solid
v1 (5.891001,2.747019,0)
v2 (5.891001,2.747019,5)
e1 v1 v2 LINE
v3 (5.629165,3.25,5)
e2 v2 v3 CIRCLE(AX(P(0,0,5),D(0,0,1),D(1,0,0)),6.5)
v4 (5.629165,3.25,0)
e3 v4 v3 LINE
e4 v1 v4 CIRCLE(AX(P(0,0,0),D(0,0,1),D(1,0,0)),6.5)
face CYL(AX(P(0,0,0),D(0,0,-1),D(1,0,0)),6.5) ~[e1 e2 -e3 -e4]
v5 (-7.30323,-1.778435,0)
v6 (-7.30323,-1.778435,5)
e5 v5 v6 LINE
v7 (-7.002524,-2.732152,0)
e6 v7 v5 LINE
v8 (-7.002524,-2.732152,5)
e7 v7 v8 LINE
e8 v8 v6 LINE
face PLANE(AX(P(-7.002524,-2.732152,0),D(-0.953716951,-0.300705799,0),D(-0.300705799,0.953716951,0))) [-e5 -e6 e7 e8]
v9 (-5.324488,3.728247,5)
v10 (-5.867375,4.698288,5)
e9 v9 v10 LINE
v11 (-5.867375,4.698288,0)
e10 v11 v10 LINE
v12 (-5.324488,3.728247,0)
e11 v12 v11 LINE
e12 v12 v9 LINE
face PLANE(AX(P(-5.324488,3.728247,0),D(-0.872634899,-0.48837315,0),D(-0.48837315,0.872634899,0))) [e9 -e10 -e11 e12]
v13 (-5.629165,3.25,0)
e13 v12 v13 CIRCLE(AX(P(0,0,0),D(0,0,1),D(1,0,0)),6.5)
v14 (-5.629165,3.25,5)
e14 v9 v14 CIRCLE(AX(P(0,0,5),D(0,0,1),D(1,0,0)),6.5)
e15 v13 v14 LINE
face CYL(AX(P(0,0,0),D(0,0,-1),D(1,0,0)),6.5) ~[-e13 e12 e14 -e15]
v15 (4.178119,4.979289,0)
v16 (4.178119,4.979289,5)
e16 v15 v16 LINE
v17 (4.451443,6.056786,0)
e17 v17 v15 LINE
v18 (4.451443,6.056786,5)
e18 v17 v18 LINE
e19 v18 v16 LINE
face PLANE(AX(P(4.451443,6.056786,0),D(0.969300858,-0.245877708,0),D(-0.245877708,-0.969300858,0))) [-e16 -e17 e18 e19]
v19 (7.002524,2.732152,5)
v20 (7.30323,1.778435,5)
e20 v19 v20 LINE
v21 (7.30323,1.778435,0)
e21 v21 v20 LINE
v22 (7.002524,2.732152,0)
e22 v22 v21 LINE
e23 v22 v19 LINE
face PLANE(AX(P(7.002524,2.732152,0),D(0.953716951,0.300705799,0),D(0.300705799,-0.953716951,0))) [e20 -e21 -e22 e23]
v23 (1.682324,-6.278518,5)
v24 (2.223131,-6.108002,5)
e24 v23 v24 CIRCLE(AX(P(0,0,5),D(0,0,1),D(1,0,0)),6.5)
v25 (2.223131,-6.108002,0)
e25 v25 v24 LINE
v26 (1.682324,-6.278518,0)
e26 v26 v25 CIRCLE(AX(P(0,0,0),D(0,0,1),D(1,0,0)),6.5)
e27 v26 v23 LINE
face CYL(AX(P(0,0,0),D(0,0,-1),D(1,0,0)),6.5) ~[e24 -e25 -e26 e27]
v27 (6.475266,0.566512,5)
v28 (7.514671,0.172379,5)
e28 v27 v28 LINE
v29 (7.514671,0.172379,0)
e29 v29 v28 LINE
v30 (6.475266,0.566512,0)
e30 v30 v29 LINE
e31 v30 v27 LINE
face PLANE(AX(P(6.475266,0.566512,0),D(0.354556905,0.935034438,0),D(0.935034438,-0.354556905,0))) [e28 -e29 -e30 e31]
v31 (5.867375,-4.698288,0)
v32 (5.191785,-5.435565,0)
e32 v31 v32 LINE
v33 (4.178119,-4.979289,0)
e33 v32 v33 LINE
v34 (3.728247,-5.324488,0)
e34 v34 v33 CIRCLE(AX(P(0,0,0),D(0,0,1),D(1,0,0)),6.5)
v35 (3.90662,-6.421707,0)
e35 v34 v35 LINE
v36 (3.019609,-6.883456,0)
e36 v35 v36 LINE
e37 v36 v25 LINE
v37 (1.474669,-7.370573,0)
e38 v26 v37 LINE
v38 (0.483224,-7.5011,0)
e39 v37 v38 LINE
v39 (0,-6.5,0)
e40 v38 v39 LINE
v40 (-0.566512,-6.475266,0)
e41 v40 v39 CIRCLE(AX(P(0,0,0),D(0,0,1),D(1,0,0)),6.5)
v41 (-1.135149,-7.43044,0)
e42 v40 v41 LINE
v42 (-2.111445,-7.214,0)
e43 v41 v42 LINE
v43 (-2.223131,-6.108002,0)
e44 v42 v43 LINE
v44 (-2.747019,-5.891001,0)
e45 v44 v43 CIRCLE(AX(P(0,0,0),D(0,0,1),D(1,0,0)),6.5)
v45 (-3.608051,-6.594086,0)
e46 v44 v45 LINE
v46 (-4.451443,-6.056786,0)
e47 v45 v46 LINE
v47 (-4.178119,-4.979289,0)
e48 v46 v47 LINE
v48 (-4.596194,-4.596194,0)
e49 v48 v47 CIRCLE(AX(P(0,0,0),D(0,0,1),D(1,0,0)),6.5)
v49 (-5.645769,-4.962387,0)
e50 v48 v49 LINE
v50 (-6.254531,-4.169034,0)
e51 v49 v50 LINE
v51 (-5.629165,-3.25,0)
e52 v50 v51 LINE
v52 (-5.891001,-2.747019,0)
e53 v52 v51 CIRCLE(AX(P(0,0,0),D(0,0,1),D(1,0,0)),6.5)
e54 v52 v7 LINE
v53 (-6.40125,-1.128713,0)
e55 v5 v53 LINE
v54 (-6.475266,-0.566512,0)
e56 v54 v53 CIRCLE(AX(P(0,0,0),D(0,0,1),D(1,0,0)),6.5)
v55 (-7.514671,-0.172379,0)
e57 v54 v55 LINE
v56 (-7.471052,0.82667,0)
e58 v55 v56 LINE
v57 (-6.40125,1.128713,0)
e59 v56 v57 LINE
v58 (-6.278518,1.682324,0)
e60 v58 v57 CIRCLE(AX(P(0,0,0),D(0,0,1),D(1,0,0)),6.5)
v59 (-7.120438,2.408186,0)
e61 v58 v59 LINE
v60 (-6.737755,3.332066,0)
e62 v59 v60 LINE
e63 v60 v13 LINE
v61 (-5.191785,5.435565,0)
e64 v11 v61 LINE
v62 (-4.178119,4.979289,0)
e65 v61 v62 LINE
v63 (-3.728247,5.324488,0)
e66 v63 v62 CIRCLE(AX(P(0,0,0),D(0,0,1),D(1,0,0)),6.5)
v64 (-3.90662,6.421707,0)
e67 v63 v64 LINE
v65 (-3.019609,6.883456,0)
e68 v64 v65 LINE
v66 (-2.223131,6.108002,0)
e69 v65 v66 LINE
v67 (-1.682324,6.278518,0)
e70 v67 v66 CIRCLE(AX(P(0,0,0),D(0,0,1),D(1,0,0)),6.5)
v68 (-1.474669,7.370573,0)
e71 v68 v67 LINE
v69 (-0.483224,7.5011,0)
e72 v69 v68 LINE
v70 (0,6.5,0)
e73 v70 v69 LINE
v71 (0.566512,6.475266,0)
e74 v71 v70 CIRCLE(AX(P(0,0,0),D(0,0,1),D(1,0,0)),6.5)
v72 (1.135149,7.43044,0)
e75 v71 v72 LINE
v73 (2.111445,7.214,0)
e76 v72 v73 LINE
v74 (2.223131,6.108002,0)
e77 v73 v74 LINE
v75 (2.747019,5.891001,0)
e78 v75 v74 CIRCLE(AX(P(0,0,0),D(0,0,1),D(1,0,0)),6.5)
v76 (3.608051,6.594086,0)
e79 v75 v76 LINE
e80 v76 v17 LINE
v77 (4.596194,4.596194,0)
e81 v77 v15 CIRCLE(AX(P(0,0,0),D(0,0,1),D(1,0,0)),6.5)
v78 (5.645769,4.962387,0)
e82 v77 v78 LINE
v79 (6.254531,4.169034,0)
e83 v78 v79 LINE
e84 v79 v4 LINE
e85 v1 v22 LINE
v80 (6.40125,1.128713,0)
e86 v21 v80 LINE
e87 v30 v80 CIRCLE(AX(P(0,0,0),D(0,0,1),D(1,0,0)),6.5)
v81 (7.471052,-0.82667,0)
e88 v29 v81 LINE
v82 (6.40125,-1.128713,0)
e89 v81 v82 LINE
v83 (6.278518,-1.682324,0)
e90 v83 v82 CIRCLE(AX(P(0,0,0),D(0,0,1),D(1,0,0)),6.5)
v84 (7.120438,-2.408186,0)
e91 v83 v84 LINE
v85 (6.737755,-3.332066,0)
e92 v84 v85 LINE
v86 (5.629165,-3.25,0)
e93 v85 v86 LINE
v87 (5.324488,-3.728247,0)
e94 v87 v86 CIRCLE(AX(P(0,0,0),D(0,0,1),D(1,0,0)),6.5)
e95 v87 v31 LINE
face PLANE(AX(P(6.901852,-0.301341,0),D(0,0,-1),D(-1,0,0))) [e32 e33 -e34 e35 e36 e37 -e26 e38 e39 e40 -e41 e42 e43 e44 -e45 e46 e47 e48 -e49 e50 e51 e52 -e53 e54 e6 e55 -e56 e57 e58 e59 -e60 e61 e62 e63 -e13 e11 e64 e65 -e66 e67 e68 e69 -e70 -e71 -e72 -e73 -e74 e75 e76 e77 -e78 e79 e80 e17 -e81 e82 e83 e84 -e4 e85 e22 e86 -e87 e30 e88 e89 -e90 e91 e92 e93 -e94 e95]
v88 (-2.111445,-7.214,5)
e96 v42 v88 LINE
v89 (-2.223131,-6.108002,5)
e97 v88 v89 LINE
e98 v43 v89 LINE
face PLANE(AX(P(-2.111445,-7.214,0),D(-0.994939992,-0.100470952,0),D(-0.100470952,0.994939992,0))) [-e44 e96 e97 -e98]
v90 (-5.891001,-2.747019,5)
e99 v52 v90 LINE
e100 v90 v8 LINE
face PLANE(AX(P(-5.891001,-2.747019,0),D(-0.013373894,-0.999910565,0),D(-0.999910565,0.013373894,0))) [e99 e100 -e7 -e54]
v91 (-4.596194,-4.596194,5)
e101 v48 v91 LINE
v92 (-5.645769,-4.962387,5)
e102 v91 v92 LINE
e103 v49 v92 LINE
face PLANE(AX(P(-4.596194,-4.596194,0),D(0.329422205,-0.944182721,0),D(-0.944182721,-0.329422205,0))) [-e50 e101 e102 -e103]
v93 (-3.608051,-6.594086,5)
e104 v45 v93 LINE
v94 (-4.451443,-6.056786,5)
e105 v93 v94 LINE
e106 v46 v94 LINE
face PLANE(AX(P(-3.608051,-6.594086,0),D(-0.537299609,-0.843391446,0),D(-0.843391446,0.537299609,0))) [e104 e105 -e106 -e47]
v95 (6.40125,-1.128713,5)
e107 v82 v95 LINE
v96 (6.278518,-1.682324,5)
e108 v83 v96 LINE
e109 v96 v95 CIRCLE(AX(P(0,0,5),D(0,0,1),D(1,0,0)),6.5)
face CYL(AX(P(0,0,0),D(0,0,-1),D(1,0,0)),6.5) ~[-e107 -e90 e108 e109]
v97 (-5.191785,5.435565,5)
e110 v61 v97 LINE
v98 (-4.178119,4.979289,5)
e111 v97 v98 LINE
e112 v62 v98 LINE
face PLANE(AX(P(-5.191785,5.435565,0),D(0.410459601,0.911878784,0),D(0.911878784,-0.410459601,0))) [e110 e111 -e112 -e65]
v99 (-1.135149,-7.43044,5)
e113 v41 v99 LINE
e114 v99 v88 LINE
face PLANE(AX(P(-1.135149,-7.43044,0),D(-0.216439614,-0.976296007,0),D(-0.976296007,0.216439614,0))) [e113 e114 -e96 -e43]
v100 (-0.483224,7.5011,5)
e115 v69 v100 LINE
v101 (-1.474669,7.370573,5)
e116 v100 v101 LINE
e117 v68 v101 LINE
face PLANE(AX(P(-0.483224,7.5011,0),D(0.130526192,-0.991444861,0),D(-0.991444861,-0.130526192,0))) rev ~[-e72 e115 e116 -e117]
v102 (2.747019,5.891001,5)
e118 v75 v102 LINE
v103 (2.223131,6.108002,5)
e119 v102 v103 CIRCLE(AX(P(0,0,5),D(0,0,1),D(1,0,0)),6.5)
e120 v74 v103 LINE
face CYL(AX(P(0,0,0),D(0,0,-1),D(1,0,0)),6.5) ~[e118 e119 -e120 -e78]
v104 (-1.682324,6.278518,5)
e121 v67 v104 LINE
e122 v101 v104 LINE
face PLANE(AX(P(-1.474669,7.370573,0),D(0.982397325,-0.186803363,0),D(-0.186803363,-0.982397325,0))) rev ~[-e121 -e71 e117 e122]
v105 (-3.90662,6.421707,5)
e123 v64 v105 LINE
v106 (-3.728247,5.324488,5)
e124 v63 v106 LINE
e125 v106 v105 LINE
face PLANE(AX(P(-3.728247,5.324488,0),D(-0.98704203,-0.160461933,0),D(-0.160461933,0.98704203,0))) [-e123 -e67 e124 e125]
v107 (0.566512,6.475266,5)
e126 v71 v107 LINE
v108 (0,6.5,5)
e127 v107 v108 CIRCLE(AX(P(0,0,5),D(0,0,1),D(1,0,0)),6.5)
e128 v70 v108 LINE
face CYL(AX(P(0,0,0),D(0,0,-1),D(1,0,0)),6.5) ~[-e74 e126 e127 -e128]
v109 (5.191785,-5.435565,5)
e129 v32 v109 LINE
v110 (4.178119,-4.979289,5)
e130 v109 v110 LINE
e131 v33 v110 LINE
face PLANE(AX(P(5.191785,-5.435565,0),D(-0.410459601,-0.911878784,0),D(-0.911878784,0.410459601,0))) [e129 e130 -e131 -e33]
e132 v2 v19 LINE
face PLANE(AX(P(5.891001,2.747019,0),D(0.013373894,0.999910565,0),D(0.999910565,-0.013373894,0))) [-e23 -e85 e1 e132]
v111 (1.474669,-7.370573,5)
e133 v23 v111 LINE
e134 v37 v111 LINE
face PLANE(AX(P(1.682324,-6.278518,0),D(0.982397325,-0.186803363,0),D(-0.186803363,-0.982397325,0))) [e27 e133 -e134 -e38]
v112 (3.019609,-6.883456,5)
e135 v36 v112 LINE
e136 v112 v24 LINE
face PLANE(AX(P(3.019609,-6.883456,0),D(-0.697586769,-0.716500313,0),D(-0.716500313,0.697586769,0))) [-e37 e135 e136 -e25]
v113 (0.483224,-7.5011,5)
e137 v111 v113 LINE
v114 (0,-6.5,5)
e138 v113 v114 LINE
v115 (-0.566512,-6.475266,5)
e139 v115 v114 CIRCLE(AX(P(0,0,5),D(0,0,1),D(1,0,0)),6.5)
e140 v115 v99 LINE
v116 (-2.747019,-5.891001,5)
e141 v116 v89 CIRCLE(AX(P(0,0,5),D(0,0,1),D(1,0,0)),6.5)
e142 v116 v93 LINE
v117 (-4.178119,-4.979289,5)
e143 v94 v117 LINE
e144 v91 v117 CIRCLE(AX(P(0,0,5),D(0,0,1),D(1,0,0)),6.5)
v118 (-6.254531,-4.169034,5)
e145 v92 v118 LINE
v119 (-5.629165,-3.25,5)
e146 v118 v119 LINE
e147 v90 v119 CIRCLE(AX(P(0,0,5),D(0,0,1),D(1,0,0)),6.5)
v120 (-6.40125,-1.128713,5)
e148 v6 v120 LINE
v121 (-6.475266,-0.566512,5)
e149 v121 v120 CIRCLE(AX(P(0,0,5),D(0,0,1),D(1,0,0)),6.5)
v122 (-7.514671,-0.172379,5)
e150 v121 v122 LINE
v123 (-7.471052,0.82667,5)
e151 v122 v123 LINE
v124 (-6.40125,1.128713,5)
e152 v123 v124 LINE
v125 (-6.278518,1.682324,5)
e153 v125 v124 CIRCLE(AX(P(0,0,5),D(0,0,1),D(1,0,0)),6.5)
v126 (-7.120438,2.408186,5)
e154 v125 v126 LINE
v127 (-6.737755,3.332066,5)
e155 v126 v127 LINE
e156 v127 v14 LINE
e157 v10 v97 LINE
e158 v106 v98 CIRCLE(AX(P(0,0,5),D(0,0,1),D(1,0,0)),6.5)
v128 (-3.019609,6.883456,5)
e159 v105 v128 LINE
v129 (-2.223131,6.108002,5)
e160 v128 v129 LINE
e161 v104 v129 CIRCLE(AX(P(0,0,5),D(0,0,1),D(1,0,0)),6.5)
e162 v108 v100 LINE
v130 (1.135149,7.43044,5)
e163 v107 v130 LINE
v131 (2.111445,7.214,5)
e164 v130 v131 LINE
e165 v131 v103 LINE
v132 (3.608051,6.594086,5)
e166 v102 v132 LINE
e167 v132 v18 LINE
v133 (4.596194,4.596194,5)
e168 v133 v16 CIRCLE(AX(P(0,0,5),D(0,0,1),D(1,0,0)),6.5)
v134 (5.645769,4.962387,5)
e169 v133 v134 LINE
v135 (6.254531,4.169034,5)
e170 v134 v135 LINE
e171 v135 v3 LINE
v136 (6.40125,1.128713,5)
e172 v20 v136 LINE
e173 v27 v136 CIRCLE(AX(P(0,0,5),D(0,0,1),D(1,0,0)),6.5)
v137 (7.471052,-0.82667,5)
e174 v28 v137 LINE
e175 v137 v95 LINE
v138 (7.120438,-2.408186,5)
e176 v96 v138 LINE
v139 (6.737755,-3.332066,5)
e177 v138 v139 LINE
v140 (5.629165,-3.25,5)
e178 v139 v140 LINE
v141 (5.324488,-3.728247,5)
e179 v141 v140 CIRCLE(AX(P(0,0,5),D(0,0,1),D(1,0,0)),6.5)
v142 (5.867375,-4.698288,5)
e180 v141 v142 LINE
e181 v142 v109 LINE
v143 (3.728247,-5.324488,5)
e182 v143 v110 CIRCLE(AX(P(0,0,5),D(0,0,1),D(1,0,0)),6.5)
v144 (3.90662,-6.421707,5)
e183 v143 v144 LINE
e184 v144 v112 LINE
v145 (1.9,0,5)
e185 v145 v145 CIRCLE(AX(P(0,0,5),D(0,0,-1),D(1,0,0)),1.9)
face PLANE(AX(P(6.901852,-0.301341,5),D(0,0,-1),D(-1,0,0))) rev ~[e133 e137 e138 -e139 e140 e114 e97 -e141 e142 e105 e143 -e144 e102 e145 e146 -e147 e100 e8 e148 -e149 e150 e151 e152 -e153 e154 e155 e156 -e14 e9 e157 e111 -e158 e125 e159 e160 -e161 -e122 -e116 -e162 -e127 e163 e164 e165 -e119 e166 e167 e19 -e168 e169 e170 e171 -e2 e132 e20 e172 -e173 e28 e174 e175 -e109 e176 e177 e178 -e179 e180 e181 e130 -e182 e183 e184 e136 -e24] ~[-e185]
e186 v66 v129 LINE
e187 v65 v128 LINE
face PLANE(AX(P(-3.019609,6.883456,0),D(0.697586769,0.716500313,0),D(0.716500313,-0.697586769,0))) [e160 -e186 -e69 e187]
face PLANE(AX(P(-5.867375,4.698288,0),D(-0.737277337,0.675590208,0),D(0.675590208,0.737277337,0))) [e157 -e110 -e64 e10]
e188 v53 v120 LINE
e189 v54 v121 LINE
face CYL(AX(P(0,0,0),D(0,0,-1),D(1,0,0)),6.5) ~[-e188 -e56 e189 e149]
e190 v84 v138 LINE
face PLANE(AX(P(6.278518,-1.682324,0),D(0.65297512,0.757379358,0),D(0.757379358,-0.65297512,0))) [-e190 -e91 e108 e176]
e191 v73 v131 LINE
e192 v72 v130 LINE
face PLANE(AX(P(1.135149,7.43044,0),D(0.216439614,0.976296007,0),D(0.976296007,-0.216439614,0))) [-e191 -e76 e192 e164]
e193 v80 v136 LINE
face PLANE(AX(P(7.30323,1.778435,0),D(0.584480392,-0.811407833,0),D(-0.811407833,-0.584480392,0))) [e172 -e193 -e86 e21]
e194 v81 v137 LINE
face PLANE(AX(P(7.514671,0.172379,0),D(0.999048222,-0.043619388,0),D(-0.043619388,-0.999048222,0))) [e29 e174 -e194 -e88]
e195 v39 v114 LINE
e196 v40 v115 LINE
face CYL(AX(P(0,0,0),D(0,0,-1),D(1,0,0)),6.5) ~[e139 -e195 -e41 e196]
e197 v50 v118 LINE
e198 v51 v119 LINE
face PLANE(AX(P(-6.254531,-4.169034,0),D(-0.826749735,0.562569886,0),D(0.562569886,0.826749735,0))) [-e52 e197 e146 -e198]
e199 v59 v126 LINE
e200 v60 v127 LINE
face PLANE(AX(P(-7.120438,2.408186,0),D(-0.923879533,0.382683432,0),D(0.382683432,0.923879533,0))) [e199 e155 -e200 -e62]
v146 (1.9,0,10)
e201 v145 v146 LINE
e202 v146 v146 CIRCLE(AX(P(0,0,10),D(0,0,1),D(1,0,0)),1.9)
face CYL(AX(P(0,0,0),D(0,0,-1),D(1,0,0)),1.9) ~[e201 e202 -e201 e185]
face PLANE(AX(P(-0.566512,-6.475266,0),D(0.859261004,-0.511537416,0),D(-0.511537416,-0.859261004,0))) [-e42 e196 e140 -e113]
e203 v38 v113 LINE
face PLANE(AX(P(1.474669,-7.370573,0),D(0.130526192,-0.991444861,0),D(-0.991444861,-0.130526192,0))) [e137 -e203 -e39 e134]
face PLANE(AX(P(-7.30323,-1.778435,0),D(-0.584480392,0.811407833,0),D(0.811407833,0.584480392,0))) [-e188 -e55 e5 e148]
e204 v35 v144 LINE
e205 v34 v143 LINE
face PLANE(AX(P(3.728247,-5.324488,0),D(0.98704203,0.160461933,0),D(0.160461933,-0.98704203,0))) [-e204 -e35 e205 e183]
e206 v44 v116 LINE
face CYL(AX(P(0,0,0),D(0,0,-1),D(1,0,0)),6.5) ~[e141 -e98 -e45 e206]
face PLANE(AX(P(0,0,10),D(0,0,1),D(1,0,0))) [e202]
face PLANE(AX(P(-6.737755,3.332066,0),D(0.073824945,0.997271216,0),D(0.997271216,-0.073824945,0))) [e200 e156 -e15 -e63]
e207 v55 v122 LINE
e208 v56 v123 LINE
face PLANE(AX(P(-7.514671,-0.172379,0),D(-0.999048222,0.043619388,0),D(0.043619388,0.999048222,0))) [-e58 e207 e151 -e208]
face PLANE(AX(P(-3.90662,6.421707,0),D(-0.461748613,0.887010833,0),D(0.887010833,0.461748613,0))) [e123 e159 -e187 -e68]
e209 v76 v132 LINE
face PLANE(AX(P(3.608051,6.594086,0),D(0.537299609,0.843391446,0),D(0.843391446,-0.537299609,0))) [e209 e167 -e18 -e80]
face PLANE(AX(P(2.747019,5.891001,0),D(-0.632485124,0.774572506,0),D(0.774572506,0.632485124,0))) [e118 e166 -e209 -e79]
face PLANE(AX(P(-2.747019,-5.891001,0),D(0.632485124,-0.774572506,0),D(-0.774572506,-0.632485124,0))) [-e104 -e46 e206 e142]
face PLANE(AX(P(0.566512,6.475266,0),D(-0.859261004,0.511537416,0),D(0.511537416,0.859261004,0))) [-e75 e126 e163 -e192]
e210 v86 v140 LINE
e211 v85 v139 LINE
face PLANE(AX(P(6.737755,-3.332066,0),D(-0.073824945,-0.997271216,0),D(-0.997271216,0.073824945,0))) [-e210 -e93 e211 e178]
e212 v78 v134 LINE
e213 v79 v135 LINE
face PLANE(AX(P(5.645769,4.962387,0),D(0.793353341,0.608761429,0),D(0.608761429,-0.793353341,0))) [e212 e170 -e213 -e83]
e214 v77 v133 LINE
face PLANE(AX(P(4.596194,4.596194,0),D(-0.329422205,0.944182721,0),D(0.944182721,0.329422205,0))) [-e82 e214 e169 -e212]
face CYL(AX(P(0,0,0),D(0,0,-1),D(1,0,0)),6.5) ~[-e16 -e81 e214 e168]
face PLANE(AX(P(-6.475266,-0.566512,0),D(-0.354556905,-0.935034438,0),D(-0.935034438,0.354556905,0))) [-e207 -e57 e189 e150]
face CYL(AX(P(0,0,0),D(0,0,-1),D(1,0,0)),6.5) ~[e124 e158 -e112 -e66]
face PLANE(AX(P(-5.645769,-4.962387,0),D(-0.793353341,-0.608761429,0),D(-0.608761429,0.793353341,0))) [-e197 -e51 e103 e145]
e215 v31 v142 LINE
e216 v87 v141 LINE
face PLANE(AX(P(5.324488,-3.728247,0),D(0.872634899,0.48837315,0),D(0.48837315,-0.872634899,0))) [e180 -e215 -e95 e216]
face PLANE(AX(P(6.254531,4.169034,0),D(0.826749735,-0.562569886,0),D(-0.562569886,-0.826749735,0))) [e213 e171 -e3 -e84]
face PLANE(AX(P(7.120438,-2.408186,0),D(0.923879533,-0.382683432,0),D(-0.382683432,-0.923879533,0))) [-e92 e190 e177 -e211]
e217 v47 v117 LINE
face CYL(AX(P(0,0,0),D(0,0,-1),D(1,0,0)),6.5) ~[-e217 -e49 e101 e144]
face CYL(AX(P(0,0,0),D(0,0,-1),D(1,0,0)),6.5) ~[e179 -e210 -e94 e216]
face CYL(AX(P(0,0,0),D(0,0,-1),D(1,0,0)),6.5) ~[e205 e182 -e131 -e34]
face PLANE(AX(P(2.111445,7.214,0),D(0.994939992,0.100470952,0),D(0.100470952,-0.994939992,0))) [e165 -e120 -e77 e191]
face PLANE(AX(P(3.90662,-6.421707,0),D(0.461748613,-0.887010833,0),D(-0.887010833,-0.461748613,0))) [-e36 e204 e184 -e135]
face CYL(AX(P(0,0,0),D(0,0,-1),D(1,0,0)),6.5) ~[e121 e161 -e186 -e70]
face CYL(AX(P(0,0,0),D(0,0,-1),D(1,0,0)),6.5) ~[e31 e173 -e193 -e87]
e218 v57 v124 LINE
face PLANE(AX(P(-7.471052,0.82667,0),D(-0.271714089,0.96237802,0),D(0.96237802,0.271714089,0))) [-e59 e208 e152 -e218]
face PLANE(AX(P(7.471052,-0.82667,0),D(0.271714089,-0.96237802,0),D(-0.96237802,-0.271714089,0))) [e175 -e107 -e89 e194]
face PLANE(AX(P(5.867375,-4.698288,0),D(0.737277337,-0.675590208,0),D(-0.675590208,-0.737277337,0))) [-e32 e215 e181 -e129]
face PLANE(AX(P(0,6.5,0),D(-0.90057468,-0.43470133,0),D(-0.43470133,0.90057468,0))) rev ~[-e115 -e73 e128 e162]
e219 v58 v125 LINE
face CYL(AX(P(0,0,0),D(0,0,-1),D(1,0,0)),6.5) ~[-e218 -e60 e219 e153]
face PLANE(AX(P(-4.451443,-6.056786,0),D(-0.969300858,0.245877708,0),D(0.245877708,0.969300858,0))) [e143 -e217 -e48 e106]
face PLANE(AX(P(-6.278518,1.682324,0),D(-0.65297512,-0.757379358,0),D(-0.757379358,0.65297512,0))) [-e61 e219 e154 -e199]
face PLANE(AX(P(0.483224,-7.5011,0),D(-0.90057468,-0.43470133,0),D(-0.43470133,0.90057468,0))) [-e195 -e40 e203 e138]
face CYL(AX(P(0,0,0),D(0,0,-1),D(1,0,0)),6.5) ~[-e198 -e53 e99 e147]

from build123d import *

# Parameters (mm, degrees)
SKETCH2_R           = 1.9
BOSS_EXTRUDE1_DEPTH = 10
SKETCH2_3_R         = 6.5
BOSS_EXTRUDE2_DEPTH = 5
BOSS_EXTRUDE3_DEPTH = 5


with BuildPart() as part:
    # Sketch2 → Boss-Extrude1 (new body)
    with BuildSketch(Plane.XY):
        Circle(SKETCH2_R)
    extrude(amount=BOSS_EXTRUDE1_DEPTH)

    # Sketch2<3> → Boss-Extrude2 (add)
    with BuildSketch(Plane.XY):
        Circle(SKETCH2_3_R)
    extrude(amount=BOSS_EXTRUDE2_DEPTH)

    # Sketch3 → Boss-Extrude3 (add)
    with BuildSketch(Plane(origin=(0, 0, 0), x_dir=(-1, 0, 0), z_dir=(0, 0, -1))):
        with BuildLine():
            Line((0.483224011, 7.501099556), (1.474668872, 7.370573364))
            Line((1.474668872, 7.370573364), (1.682323793, 6.278517871))
            ThreePointArc((1.682323793, 6.278517871), (0.848420249, 6.444391599), (0, 6.5))
            Line((0, 6.5), (0.483224011, 7.501099556))
        make_face()
        with BuildLine():
            Line((3.019609183, 6.883455555), (2.223130932, 6.108002035))
            ThreePointArc((2.223130932, 6.108002035), (3.001365986, 5.765570416), (3.728246836, 5.324488288))
            Line((3.728246836, 5.324488288), (3.906620016, 6.421706942))
            Line((3.906620016, 6.421706942), (3.019609183, 6.883455555))
        make_face()
        with BuildLine():
            Line((5.191784922, 5.435565226), (4.178119463, 4.97928888))
            ThreePointArc((4.178119463, 4.97928888), (4.792302689, 4.39133635), (5.324488288, 3.728246836))
            Line((5.324488288, 3.728246836), (5.86737513, 4.698287889))
            Line((5.86737513, 4.698287889), (5.191784922, 5.435565226))
        make_face()
        with BuildLine():
            Line((6.737754778, 3.332065509), (5.629165125, 3.25))
            ThreePointArc((5.629165125, 3.25), (6.005216961, 2.48744231), (6.278517871, 1.682323793))
            Line((6.278517871, 1.682323793), (7.12043821, 2.408185976))
            Line((7.12043821, 2.408185976), (6.737754778, 3.332065509))
        make_face()
        with BuildLine():
            Line((7.471051968, 0.826669516), (6.401250395, 1.128713155))
            ThreePointArc((6.401250395, 1.128713155), (6.49381344, 0.283526018), (6.475265538, -0.566512328))
            Line((6.475265538, -0.566512328), (7.514671356, -0.172378706))
            Line((7.514671356, -0.172378706), (7.471051968, 0.826669516))
        make_face()
        with BuildLine():
            Line((7.30323003, -1.778435021), (6.401250395, -1.128713155))
            ThreePointArc((6.401250395, -1.128713155), (6.19916018, -1.954587697), (5.891000616, -2.747018701))
            Line((5.891000616, -2.747018701), (7.002524231, -2.732151972))
            Line((7.002524231, -2.732151972), (7.30323003, -1.778435021))
        make_face()
        with BuildLine():
            Line((6.254530767, -4.169034047), (5.629165125, -3.25))
            ThreePointArc((5.629165125, -3.25), (5.156796712, -3.956949289), (4.596194078, -4.596194078))
            Line((4.596194078, -4.596194078), (5.645769338, -4.962387388))
            Line((5.645769338, -4.962387388), (6.254530767, -4.169034047))
        make_face()
        with BuildLine():
            Line((4.451442786, -6.056786039), (4.178119463, -4.97928888))
            ThreePointArc((4.178119463, -4.97928888), (3.492447454, -5.482044398), (2.747018701, -5.891000616))
            Line((2.747018701, -5.891000616), (3.60805134, -6.594085648))
            Line((3.60805134, -6.594085648), (4.451442786, -6.056786039))
        make_face()
        with BuildLine():
            Line((2.111445108, -7.214000246), (2.223130932, -6.108002035))
            ThreePointArc((2.223130932, -6.108002035), (1.406857491, -6.345924046), (0.566512328, -6.475265538))
            Line((0.566512328, -6.475265538), (1.135149101, -7.43043986))
            Line((1.135149101, -7.43043986), (2.111445108, -7.214000246))
        make_face()
        with BuildLine():
            Line((-0.483224011, -7.501099556), (0, -6.5))
            ThreePointArc((0, -6.5), (-0.848420249, -6.444391599), (-1.682323793, -6.278517871))
            Line((-1.682323793, -6.278517871), (-1.474668872, -7.370573364))
            Line((-1.474668872, -7.370573364), (-0.483224011, -7.501099556))
        make_face()
        with BuildLine():
            Line((-3.019609183, -6.883455555), (-2.223130932, -6.108002035))
            ThreePointArc((-2.223130932, -6.108002035), (-3.001365986, -5.765570416), (-3.728246836, -5.324488288))
            Line((-3.728246836, -5.324488288), (-3.906620016, -6.421706942))
            Line((-3.906620016, -6.421706942), (-3.019609183, -6.883455555))
        make_face()
        with BuildLine():
            Line((-5.191784922, -5.435565226), (-4.178119463, -4.97928888))
            ThreePointArc((-4.178119463, -4.97928888), (-4.792302689, -4.39133635), (-5.324488288, -3.728246836))
            Line((-5.324488288, -3.728246836), (-5.86737513, -4.698287889))
            Line((-5.86737513, -4.698287889), (-5.191784922, -5.435565226))
        make_face()
        with BuildLine():
            Line((-6.737754778, -3.332065509), (-5.629165125, -3.25))
            ThreePointArc((-5.629165125, -3.25), (-6.005216961, -2.48744231), (-6.278517871, -1.682323793))
            Line((-6.278517871, -1.682323793), (-7.12043821, -2.408185976))
            Line((-7.12043821, -2.408185976), (-6.737754778, -3.332065509))
        make_face()
        with BuildLine():
            Line((-7.471051968, -0.826669516), (-6.401250395, -1.128713155))
            ThreePointArc((-6.401250395, -1.128713155), (-6.49381344, -0.283526018), (-6.475265538, 0.566512328))
            Line((-6.475265538, 0.566512328), (-7.514671356, 0.172378706))
            Line((-7.514671356, 0.172378706), (-7.471051968, -0.826669516))
        make_face()
        with BuildLine():
            Line((-7.30323003, 1.778435021), (-6.401250395, 1.128713155))
            ThreePointArc((-6.401250395, 1.128713155), (-6.19916018, 1.954587697), (-5.891000616, 2.747018701))
            Line((-5.891000616, 2.747018701), (-7.002524231, 2.732151972))
            Line((-7.002524231, 2.732151972), (-7.30323003, 1.778435021))
        make_face()
        with BuildLine():
            Line((-6.254530767, 4.169034047), (-5.629165125, 3.25))
            ThreePointArc((-5.629165125, 3.25), (-5.156796712, 3.956949289), (-4.596194078, 4.596194078))
            Line((-4.596194078, 4.596194078), (-5.645769338, 4.962387388))
            Line((-5.645769338, 4.962387388), (-6.254530767, 4.169034047))
        make_face()
        with BuildLine():
            Line((-4.451442786, 6.056786039), (-4.178119463, 4.97928888))
            ThreePointArc((-4.178119463, 4.97928888), (-3.492447454, 5.482044398), (-2.747018701, 5.891000616))
            Line((-2.747018701, 5.891000616), (-3.60805134, 6.594085648))
            Line((-3.60805134, 6.594085648), (-4.451442786, 6.056786039))
        make_face()
        with BuildLine():
            Line((-2.111445108, 7.214000246), (-2.223130932, 6.108002035))
            ThreePointArc((-2.223130932, 6.108002035), (-1.406857491, 6.345924046), (-0.566512328, 6.475265538))
            Line((-0.566512328, 6.475265538), (-1.135149101, 7.43043986))
            Line((-1.135149101, 7.43043986), (-2.111445108, 7.214000246))
        make_face()
    extrude(amount=-BOSS_EXTRUDE3_DEPTH)


solid = part.part
